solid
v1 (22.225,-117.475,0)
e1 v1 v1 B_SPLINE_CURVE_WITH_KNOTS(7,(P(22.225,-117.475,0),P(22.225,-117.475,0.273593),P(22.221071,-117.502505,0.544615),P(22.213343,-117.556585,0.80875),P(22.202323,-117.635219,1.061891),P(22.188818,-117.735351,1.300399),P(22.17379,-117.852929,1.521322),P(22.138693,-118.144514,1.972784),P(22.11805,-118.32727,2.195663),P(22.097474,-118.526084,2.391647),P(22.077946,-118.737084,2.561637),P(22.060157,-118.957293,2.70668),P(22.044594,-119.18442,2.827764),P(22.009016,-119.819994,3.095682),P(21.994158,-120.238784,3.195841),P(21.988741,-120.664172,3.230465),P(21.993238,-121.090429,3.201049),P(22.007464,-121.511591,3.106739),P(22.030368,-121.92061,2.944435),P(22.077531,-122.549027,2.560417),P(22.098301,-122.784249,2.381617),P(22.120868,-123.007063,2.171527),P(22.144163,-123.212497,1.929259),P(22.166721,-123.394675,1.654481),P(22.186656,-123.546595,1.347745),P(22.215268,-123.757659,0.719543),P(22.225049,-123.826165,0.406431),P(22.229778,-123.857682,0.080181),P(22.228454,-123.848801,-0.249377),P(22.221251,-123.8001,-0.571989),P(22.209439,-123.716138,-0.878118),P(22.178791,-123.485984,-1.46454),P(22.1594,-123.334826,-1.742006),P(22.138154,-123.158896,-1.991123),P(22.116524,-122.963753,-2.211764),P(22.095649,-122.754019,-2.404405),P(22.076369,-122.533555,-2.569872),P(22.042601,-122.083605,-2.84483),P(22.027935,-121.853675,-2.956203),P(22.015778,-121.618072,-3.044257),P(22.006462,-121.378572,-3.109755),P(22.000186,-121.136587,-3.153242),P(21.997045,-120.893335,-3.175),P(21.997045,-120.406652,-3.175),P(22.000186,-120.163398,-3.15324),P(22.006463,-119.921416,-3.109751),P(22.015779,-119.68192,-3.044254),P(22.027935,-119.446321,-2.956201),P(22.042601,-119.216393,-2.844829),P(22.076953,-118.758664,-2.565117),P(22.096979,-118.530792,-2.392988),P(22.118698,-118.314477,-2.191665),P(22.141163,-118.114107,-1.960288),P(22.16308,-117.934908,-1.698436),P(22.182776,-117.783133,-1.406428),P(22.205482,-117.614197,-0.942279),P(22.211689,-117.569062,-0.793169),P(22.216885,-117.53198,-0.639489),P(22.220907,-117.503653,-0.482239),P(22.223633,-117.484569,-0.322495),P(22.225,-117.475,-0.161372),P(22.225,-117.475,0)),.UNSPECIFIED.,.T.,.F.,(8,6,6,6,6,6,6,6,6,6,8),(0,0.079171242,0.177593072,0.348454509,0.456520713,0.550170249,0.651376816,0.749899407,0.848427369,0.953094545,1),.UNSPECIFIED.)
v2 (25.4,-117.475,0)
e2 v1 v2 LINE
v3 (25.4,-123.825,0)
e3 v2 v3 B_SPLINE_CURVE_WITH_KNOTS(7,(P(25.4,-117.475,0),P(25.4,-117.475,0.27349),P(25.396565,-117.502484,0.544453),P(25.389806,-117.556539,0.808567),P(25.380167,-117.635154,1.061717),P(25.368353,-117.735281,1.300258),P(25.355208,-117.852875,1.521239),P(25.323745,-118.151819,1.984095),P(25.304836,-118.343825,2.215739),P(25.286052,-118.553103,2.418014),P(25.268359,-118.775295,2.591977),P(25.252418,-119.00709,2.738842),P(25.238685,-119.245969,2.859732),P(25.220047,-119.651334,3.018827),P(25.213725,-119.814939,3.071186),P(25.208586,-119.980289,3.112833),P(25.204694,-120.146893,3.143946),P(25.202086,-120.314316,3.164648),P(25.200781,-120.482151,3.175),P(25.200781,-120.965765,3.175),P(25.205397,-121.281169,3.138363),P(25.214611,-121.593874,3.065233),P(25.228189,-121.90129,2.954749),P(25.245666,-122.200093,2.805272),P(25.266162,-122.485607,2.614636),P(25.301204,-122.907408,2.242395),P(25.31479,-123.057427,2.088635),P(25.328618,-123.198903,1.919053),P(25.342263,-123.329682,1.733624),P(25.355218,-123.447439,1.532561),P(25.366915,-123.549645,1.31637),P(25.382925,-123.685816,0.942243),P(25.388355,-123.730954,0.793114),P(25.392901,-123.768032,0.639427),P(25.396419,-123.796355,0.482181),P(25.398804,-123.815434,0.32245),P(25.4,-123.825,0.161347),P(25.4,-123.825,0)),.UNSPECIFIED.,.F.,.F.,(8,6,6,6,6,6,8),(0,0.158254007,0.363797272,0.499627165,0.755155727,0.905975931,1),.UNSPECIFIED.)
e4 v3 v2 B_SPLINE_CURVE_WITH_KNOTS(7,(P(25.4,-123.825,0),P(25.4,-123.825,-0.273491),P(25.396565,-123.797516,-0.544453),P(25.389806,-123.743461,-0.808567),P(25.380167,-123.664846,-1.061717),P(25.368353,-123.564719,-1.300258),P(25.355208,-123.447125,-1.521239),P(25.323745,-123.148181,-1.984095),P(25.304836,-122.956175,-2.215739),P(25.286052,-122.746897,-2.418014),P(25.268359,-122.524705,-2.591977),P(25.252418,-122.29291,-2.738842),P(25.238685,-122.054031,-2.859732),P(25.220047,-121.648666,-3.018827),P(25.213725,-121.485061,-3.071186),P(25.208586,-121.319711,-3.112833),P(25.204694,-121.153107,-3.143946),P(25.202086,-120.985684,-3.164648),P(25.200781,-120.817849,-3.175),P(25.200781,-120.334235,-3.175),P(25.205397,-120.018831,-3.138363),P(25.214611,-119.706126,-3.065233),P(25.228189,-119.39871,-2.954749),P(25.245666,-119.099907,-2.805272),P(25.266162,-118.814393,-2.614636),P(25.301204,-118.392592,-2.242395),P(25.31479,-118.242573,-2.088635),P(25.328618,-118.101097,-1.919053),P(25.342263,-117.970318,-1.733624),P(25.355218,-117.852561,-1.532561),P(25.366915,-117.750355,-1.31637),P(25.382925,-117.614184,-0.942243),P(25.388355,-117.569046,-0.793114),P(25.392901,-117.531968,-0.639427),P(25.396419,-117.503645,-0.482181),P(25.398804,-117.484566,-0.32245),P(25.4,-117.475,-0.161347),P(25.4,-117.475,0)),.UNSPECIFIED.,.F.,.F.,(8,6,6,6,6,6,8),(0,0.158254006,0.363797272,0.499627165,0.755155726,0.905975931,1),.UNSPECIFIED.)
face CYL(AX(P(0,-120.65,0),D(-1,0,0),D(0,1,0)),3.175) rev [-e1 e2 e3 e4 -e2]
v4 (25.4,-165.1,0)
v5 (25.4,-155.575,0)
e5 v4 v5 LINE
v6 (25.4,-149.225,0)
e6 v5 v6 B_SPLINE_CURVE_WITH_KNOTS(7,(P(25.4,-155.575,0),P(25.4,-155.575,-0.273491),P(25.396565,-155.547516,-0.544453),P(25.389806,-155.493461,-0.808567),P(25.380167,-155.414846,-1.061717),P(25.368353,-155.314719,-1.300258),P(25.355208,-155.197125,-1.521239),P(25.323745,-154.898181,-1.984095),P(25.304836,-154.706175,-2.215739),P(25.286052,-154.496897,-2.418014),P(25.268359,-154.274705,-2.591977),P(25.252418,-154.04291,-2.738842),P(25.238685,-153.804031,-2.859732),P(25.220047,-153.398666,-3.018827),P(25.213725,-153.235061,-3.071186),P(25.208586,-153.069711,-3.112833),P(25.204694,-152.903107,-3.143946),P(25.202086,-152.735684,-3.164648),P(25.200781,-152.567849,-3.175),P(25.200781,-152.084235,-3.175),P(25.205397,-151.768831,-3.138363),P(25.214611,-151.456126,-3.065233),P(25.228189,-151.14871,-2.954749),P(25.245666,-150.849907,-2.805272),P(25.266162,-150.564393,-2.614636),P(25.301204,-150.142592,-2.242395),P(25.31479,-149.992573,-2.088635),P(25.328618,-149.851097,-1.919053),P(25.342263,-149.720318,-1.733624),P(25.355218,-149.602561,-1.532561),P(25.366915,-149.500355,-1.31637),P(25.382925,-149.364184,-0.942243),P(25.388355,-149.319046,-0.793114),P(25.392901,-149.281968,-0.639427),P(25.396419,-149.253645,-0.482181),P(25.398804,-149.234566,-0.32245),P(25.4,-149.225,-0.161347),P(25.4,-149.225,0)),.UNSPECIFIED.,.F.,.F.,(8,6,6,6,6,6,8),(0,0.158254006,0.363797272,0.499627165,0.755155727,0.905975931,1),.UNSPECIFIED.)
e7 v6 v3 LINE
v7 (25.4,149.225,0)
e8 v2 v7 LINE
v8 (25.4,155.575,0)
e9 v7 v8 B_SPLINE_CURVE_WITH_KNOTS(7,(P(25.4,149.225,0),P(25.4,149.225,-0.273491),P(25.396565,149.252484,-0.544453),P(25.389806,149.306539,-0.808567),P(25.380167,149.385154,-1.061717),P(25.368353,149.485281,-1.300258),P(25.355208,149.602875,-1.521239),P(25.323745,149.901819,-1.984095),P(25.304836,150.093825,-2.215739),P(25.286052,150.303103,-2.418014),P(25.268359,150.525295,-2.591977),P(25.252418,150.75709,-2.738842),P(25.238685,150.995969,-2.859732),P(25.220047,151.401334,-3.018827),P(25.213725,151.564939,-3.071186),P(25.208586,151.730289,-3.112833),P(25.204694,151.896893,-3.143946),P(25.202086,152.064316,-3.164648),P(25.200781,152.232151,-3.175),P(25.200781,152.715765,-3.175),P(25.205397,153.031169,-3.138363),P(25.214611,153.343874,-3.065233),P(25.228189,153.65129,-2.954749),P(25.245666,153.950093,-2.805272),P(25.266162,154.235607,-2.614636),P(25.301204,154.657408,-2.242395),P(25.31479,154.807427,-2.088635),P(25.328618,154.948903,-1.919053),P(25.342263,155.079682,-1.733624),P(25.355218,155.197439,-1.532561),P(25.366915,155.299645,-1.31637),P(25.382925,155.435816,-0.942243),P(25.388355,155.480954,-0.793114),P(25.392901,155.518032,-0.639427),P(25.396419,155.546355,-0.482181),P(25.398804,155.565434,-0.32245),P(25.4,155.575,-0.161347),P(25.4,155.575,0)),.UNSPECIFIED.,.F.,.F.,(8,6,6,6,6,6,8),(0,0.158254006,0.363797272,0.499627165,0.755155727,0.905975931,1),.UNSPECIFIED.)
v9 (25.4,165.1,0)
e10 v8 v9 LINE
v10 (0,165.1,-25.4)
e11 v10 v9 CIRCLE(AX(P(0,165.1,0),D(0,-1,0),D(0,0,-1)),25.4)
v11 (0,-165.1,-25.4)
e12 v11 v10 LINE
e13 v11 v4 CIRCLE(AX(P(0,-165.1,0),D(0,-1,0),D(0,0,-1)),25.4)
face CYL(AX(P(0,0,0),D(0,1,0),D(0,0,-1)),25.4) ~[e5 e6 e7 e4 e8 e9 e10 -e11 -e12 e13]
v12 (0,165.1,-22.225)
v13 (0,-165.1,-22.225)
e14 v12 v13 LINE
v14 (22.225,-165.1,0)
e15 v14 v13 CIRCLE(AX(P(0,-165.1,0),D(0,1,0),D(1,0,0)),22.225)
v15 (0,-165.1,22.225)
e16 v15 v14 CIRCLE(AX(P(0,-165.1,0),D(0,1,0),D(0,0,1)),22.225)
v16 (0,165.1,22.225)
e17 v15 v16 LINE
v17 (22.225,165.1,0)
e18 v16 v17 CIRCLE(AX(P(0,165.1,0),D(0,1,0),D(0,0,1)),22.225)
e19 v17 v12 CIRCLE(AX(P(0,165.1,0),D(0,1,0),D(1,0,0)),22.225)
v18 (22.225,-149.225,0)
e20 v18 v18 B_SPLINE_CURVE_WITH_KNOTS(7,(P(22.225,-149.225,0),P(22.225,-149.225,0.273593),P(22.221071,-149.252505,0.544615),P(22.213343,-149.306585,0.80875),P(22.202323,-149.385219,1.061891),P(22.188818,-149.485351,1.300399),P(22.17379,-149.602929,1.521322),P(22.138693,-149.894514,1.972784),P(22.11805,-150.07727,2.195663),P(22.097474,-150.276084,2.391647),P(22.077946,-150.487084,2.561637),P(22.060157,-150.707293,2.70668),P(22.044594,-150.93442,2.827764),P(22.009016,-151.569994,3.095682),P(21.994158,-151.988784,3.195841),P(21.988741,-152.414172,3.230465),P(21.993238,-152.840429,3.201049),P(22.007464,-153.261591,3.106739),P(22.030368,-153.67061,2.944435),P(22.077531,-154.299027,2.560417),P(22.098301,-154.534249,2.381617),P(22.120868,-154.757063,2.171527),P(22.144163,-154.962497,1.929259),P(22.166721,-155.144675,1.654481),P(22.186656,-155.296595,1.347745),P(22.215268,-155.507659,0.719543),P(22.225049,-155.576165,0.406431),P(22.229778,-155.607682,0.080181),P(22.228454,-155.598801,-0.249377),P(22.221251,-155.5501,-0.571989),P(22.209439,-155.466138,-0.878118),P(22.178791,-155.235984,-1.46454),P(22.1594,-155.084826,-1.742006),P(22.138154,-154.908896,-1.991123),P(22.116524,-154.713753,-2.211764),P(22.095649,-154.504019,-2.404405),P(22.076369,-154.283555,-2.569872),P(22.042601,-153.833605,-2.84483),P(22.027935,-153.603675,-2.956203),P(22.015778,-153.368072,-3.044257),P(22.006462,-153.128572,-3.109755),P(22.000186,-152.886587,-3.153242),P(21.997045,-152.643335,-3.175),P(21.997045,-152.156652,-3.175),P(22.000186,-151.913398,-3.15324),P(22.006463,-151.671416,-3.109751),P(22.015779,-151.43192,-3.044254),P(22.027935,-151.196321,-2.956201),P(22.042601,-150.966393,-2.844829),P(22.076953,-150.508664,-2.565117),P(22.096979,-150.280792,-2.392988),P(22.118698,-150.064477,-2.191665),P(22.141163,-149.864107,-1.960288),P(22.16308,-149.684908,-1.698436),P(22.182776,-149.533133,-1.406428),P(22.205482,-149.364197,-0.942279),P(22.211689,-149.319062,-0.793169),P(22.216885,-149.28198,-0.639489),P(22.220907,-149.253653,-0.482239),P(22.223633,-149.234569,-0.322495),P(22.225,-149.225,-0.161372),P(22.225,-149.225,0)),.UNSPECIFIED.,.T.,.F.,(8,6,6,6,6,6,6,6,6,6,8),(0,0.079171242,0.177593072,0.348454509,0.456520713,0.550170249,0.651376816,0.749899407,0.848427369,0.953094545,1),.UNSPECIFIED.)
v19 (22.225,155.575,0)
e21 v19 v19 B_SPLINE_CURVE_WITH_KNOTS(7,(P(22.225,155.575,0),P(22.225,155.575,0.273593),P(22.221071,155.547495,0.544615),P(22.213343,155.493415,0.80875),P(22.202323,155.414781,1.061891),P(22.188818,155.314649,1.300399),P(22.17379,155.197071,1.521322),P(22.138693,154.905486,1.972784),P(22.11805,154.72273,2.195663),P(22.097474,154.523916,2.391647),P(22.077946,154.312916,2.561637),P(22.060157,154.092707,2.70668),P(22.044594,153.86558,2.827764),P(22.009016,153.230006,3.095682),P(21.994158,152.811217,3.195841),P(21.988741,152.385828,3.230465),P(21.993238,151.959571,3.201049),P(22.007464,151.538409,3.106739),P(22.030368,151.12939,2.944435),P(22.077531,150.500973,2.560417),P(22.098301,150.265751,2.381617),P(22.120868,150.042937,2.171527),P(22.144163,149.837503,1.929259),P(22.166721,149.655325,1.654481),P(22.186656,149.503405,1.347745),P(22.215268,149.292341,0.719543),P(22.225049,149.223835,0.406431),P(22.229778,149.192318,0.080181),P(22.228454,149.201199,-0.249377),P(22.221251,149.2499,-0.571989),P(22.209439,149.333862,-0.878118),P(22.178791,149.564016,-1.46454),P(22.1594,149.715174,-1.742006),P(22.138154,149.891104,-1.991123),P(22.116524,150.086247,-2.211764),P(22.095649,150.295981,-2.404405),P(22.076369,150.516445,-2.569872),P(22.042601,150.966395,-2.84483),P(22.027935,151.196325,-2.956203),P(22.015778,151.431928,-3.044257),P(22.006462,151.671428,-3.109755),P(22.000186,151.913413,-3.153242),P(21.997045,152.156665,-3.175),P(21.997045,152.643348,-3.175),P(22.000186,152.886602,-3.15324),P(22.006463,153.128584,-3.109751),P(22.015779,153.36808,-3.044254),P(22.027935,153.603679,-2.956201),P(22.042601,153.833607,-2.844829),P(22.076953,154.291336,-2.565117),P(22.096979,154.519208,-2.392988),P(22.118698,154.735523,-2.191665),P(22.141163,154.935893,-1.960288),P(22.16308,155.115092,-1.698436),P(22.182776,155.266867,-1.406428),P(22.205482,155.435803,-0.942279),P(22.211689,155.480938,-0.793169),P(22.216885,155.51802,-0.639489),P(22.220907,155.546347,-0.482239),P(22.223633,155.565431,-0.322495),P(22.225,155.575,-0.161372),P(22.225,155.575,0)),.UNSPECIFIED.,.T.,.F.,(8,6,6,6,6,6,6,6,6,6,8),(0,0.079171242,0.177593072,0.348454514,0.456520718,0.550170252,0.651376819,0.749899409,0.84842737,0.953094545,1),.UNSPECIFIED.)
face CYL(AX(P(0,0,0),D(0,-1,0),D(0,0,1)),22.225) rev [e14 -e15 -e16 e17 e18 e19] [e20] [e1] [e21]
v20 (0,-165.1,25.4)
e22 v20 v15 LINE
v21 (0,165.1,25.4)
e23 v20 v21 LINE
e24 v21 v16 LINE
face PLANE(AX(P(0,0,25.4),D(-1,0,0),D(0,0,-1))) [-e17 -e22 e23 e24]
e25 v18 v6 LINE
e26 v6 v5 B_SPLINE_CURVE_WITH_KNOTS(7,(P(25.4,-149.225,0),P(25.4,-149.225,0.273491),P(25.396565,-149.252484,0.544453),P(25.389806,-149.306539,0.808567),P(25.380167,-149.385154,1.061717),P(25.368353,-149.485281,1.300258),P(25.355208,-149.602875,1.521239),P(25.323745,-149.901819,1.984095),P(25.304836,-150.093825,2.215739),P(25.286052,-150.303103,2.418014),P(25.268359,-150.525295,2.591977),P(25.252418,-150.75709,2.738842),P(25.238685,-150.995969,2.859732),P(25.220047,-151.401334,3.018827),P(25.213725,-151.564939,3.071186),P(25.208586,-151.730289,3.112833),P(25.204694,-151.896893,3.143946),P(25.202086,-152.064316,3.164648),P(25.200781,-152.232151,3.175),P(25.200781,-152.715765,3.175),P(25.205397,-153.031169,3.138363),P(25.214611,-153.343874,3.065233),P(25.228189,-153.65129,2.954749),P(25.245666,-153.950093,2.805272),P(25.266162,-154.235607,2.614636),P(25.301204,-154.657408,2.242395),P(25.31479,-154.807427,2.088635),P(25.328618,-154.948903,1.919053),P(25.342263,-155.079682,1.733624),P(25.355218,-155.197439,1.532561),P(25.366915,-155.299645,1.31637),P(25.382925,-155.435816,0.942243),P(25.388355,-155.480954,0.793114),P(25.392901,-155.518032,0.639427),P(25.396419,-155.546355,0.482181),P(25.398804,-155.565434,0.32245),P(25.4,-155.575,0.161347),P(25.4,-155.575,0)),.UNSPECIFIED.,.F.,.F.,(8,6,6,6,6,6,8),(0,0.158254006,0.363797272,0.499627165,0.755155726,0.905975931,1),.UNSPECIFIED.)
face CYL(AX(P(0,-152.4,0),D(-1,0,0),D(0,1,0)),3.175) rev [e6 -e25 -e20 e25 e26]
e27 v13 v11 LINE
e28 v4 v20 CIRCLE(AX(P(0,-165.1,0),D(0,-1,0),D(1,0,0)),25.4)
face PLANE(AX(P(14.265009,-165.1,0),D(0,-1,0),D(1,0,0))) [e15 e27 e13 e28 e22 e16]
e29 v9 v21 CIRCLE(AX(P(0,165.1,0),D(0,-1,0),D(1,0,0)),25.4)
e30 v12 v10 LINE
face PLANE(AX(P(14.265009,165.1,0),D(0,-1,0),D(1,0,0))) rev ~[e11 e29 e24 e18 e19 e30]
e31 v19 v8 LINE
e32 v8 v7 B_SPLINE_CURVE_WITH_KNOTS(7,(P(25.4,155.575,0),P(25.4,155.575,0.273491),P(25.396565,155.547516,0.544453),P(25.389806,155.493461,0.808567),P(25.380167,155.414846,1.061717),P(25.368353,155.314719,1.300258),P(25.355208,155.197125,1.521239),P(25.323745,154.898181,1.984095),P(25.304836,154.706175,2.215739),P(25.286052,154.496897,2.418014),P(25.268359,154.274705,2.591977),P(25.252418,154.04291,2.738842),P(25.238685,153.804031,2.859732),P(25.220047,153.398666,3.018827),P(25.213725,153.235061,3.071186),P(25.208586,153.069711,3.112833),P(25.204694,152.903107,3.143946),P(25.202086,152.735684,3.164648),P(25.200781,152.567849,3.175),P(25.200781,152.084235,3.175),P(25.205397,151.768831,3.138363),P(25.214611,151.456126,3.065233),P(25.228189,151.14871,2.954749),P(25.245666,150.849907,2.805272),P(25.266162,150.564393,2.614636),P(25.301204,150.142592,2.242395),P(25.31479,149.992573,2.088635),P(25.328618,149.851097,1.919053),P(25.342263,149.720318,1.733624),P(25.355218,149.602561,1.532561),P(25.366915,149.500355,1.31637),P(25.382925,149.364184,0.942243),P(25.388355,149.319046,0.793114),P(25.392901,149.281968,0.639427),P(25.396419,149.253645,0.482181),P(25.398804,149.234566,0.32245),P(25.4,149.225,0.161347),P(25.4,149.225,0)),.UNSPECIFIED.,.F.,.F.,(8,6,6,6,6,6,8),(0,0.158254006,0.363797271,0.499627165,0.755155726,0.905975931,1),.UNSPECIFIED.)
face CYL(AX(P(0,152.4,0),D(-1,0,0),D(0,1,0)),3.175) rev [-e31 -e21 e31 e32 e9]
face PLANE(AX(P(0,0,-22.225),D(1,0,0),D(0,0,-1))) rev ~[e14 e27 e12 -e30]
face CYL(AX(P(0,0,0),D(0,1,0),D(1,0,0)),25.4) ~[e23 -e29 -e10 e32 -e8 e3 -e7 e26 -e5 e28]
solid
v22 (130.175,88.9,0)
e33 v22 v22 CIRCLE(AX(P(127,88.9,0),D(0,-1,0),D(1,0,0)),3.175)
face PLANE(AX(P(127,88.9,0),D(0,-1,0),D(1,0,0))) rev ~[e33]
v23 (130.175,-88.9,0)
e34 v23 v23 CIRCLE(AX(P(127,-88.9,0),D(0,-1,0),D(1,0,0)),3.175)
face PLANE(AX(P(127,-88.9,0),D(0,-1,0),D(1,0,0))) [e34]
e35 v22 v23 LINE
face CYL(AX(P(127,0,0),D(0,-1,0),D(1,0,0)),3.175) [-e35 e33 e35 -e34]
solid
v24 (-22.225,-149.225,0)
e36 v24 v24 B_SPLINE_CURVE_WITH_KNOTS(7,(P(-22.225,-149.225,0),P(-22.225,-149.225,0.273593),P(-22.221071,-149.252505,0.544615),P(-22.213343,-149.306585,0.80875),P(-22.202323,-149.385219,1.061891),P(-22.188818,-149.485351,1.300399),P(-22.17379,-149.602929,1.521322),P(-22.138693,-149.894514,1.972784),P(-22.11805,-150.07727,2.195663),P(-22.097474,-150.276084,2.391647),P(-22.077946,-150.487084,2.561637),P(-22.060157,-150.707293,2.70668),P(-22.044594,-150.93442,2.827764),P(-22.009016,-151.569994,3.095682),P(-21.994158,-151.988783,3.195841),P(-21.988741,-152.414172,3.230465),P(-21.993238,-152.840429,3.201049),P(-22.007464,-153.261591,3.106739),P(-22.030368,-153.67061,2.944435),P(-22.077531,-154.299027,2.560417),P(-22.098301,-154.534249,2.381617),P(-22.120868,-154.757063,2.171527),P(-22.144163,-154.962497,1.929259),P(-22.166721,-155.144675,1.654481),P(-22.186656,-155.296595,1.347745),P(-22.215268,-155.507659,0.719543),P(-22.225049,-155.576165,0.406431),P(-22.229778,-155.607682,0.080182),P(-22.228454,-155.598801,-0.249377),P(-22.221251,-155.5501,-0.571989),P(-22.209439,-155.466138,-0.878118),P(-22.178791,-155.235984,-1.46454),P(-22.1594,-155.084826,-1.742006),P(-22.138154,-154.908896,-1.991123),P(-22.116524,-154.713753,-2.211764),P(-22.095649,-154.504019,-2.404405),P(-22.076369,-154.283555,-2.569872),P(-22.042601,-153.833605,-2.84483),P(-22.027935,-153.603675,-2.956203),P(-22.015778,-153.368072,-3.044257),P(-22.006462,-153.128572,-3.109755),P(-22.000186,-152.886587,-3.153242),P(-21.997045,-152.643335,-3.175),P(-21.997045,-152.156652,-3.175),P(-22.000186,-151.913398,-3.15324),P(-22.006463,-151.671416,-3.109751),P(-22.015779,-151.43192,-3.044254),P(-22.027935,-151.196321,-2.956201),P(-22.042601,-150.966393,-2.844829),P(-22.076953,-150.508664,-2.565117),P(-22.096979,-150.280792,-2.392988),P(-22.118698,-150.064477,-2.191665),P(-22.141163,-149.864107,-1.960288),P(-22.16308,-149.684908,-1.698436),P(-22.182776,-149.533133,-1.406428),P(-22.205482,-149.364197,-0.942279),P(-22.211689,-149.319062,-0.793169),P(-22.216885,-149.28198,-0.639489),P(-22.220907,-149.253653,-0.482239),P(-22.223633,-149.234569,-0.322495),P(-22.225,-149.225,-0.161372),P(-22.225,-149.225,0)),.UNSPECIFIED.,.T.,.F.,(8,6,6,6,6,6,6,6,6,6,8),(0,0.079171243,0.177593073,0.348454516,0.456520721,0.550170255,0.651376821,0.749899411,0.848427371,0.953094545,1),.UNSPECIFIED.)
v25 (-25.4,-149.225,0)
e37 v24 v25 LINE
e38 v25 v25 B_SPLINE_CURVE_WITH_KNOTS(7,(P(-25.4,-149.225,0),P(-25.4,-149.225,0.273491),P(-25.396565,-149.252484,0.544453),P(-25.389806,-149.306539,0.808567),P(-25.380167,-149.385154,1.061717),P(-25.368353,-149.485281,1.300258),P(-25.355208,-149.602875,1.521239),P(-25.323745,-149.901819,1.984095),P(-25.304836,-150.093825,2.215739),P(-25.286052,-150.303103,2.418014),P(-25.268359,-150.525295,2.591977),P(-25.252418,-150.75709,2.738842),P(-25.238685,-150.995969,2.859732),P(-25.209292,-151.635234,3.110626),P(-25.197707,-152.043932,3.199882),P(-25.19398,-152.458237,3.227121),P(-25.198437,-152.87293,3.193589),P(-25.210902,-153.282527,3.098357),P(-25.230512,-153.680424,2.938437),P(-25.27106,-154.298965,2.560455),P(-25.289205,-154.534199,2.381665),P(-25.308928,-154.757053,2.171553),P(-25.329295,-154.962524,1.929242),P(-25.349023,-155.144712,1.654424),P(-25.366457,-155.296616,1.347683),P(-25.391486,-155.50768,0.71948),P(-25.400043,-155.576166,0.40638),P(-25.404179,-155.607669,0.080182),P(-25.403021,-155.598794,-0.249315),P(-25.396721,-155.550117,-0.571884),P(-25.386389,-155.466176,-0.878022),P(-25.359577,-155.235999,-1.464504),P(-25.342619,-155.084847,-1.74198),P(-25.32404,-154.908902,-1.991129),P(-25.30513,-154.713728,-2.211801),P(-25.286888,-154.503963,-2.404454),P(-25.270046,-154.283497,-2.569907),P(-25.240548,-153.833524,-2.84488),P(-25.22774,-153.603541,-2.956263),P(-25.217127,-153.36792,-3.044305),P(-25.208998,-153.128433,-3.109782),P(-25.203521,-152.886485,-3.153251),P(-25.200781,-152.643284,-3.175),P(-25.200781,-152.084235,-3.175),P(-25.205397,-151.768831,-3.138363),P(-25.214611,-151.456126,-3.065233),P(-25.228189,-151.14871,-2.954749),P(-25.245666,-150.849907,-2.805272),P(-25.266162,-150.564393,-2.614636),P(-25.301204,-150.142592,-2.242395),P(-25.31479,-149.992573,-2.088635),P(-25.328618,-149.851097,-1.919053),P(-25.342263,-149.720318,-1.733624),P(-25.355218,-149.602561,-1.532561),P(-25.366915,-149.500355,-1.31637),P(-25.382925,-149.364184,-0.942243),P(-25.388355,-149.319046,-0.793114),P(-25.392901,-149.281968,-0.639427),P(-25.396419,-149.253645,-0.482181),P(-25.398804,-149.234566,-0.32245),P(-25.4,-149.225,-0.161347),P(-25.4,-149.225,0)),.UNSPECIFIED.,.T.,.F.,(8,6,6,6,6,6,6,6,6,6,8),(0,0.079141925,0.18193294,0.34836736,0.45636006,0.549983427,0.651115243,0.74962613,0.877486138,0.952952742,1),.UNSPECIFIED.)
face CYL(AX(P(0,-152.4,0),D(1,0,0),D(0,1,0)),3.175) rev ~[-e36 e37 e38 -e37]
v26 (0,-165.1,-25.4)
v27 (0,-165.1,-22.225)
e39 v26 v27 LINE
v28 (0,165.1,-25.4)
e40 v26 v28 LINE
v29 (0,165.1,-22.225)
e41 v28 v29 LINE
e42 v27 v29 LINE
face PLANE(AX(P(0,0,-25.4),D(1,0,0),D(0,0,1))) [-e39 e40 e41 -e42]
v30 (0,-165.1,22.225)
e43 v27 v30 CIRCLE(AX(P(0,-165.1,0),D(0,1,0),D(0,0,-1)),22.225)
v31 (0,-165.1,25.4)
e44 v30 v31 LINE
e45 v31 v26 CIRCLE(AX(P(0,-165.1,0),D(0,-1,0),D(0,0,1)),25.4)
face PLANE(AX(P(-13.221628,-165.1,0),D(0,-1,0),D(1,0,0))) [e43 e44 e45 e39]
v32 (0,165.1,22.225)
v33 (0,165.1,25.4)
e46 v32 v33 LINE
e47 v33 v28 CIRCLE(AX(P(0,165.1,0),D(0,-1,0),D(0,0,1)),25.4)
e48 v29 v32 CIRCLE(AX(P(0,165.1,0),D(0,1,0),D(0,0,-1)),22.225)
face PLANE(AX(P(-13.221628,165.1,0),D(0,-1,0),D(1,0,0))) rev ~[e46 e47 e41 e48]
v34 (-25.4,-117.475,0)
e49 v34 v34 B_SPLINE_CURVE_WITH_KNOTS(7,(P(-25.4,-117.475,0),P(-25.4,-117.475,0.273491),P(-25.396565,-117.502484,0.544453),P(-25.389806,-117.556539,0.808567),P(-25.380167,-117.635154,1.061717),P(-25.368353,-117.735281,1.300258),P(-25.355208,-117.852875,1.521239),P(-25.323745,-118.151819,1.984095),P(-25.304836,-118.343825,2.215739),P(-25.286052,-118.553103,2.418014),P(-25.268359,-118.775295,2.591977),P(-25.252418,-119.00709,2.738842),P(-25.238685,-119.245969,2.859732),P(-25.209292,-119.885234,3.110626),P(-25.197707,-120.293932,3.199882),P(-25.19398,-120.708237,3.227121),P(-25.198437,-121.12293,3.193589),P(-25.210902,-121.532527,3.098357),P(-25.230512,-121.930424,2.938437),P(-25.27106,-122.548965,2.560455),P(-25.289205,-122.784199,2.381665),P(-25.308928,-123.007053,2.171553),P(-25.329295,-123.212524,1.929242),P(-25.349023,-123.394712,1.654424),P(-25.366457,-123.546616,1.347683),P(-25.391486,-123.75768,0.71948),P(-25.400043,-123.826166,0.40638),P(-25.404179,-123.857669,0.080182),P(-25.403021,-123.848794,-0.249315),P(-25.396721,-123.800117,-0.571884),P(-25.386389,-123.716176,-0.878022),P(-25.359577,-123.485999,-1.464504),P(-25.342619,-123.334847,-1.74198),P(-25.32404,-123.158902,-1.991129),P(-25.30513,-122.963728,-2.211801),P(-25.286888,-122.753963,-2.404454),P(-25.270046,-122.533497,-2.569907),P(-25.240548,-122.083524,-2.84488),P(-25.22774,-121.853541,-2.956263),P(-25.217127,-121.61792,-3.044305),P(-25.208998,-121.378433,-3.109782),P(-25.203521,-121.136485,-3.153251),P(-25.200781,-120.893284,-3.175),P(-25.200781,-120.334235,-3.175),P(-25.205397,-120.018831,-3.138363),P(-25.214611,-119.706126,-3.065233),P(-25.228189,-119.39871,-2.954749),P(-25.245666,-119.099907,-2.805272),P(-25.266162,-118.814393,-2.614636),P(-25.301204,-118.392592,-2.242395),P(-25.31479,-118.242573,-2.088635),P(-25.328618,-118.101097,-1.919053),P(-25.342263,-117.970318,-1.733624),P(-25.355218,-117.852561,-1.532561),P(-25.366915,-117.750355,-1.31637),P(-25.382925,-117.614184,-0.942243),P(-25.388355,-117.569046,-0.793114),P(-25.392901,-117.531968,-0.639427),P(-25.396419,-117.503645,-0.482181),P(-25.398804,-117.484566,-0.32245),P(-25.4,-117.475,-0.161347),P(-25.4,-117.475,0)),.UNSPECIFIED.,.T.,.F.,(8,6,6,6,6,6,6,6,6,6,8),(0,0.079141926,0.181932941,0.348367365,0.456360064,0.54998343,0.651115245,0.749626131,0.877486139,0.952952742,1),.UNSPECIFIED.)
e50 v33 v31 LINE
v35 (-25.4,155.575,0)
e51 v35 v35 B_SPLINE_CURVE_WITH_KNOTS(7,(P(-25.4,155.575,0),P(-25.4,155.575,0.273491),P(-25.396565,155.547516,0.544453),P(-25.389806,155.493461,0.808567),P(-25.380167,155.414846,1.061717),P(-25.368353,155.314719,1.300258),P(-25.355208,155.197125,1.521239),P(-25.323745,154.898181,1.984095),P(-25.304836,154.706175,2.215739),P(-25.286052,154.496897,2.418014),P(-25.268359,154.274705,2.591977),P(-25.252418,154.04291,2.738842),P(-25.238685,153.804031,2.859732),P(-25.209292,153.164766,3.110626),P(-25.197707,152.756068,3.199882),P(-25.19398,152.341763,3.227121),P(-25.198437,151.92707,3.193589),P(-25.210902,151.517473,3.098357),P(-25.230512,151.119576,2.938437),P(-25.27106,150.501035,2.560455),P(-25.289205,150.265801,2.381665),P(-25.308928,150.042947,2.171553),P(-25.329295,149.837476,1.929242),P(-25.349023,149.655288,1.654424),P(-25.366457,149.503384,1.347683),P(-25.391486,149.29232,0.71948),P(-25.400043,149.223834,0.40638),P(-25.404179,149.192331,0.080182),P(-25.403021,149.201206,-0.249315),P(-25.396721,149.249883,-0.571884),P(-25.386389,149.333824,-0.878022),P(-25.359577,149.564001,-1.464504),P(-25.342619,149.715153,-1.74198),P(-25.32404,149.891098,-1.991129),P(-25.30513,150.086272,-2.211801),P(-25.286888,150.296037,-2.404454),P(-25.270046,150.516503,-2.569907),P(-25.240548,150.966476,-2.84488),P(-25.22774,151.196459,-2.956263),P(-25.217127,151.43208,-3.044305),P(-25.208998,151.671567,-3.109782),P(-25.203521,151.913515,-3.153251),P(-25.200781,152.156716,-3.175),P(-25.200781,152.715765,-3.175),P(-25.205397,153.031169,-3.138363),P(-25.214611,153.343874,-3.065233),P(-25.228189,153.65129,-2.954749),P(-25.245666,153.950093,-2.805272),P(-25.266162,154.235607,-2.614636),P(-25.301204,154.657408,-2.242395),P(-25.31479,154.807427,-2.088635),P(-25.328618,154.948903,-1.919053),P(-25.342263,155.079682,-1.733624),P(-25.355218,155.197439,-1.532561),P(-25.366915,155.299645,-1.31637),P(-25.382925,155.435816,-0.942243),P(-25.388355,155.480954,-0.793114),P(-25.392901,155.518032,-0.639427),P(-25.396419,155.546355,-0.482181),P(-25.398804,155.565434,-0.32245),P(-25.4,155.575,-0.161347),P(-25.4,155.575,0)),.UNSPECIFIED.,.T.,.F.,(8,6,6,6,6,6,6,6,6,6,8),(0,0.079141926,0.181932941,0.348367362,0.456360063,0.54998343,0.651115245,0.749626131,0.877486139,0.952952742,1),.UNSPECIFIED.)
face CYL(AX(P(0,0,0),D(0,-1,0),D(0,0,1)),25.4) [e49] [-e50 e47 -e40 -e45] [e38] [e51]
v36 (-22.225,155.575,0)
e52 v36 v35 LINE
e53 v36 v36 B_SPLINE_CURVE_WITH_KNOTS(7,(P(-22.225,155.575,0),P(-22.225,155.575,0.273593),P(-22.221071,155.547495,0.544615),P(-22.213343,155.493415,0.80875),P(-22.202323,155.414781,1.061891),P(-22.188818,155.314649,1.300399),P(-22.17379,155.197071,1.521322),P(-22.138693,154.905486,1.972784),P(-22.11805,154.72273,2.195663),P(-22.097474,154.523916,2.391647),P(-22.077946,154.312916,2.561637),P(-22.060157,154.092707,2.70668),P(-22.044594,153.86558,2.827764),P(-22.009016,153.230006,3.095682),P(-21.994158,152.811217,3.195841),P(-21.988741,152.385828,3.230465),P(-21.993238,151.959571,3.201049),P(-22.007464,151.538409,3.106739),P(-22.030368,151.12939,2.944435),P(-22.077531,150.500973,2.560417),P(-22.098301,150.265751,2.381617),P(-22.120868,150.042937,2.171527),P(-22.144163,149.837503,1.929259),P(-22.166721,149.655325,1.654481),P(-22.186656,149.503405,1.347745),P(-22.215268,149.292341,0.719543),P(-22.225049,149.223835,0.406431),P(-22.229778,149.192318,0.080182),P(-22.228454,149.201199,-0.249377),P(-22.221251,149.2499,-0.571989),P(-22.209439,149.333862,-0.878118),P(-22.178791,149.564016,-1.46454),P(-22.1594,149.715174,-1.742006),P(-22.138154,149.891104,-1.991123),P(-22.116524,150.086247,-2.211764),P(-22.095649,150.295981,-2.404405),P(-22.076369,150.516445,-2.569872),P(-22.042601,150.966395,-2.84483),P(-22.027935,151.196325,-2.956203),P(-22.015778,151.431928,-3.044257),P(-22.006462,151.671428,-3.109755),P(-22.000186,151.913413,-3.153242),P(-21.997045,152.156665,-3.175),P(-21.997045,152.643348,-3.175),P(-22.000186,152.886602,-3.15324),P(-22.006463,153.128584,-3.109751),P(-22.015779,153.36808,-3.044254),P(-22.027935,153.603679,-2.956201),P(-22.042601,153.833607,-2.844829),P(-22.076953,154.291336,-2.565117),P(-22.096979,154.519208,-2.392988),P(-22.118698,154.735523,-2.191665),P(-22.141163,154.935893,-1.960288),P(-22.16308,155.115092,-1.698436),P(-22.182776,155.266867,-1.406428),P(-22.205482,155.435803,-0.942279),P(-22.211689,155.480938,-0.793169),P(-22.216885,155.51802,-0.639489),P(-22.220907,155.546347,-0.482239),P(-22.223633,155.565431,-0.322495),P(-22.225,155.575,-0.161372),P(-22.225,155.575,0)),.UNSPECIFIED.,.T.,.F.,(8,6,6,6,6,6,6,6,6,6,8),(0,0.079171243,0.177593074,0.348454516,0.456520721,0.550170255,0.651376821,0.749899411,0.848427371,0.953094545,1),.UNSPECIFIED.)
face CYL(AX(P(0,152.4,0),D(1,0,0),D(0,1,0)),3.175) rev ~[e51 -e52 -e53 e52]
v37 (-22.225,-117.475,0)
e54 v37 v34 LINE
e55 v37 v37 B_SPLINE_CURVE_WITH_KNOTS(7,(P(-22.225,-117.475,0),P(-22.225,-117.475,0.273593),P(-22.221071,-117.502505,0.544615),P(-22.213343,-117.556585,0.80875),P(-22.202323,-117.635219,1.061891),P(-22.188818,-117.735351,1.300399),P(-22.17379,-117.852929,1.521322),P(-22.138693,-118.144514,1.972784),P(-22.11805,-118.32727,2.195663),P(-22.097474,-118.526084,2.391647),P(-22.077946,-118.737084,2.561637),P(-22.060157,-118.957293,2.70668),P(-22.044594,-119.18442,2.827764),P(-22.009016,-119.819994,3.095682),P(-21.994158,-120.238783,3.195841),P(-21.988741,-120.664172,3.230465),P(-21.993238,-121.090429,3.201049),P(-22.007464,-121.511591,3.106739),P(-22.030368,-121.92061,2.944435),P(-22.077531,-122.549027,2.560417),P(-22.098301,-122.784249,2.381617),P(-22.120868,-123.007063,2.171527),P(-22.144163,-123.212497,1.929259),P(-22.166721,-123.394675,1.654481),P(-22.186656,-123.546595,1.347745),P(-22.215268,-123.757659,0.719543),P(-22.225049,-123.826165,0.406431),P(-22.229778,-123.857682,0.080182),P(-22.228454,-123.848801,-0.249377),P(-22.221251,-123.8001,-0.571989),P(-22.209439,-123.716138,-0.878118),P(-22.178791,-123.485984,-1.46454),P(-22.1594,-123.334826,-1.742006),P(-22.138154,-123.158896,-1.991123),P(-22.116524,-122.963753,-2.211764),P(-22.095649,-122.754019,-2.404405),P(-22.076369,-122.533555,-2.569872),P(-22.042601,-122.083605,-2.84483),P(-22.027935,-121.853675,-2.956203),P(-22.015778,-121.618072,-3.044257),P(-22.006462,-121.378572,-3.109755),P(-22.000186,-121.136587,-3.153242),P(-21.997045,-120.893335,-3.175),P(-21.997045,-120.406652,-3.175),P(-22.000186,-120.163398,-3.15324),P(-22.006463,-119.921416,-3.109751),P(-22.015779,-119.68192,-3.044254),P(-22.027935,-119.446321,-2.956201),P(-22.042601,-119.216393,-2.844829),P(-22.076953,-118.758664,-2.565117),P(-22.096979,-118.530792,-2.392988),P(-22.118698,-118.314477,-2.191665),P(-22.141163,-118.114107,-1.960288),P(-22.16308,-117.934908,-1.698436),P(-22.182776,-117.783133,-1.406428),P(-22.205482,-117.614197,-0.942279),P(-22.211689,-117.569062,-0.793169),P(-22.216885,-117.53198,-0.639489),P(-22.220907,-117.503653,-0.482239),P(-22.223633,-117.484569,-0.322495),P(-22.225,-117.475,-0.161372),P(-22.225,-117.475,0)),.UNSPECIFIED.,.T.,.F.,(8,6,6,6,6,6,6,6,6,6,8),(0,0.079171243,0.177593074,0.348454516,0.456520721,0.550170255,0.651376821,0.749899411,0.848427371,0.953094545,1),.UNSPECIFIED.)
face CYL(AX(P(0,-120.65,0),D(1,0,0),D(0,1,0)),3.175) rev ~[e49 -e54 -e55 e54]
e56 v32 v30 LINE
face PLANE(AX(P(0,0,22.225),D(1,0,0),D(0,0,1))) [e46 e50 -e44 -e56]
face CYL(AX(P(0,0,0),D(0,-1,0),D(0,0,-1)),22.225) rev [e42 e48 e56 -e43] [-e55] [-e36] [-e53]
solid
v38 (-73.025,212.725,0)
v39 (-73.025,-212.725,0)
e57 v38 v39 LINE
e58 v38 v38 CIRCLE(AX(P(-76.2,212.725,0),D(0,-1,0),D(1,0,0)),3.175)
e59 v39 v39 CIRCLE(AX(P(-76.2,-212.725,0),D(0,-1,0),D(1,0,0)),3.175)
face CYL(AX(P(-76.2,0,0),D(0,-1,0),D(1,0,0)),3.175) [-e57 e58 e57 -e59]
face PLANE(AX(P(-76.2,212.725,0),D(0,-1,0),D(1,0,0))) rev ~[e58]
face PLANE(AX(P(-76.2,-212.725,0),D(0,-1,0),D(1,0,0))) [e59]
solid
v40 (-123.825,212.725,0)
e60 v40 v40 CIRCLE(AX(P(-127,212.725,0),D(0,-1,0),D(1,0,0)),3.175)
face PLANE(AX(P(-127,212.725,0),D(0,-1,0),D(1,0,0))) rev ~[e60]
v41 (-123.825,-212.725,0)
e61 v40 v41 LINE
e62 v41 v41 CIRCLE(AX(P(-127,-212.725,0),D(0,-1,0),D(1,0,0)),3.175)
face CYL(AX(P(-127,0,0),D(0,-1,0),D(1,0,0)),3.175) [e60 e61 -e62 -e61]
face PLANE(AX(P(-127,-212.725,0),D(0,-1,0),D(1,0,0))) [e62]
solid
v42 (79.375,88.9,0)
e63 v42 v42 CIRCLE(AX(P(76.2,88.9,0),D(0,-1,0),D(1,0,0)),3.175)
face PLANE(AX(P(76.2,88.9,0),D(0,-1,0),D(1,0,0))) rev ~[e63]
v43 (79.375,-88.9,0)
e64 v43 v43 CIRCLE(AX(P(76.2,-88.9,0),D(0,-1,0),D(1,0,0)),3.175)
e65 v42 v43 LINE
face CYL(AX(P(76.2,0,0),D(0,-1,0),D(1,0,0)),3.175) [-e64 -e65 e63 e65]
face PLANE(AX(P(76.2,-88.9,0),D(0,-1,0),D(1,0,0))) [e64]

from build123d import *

# Parameters (mm, degrees)
F1_DEPTH      = 165.1
F2_DEPTH      = 165.1
F4_R          = 3.175
F5_DEPTH      = 25.401
F5_DEPTH_BACK = 25.401
F3_R          = 3.175
F6_DEPTH      = 212.725
F7_DEPTH      = 88.9


with BuildPart() as f1:
    # F0 (on Front) → F1 (new body, symmetric)
    with BuildSketch(Plane.XZ):
        with BuildLine():
            ThreePointArc((0, -22.225), (-22.225, 0), (0, 22.225))
            Line((0, 22.225), (0, 25.4))
            ThreePointArc((0, 25.4), (-25.4, 0), (0, -25.4))
            Line((0, -25.4), (0, -22.225))
        make_face()
    extrude(amount=F1_DEPTH, both=True)


with BuildPart() as f2:
    # F0 (on Front) → F2 (new body, symmetric)
    with BuildSketch(Plane.XZ):
        with BuildLine():
            ThreePointArc((0, 22.225), (15.7154482119, 15.7154482119), (22.225, 0))
            ThreePointArc((22.225, 0), (15.7154482119, -15.7154482119), (0, -22.225))
            Line((0, -22.225), (0, -25.4))
            ThreePointArc((0, -25.4), (17.9605122421, -17.9605122421), (25.4, 0))
            ThreePointArc((25.4, 0), (17.9605122421, 17.9605122421), (0, 25.4))
            Line((0, 25.4), (0, 22.225))
        make_face()
    extrude(amount=F2_DEPTH, both=True)


with BuildPart() as f5_tool:
    # F4 (on Right) → F5 (new body, two sides)
    with BuildSketch(Plane.YZ) as f5_sk:
        with Locations((-152.4, 0)):
            Circle(F4_R)
        with Locations((152.4, 0)):
            Circle(F4_R)
        with Locations((-120.65, 0)):
            Circle(F4_R)
    extrude(amount=-F5_DEPTH)
    extrude(f5_sk.sketch, amount=F5_DEPTH_BACK)


with BuildPart() as f1_1:
    add(f1.part)

    # F5: cut by f5_tool
    add(f5_tool.part, mode=Mode.SUBTRACT)


with BuildPart() as f2_1:
    add(f2.part)

    # F5: cut by f5_tool
    add(f5_tool.part, mode=Mode.SUBTRACT)


with BuildPart() as f6:
    # F3 (on Front) → F6 (new body, symmetric)
    with BuildSketch(Plane.XZ):
        with Locations((-127, 0)):
            Circle(F3_R)
    extrude(amount=F6_DEPTH, both=True)


with BuildPart() as f6b:
    # F3 (on Front) → F6, piece 2 (new body, symmetric)
    with BuildSketch(Plane.XZ):
        with Locations((-76.2, 0)):
            Circle(F3_R)
    extrude(amount=F6_DEPTH, both=True)


with BuildPart() as f7:
    # F3 (on Front) → F7 (new body, symmetric)
    with BuildSketch(Plane.XZ):
        with Locations((76.2, 0)):
            Circle(F3_R)
    extrude(amount=F7_DEPTH, both=True)


with BuildPart() as f7b:
    # F3 (on Front) → F7, piece 2 (new body, symmetric)
    with BuildSketch(Plane.XZ):
        with Locations((127, 0)):
            Circle(F3_R)
    extrude(amount=F7_DEPTH, both=True)


solid = Compound([f1_1.part, f2_1.part, f6.part, f6b.part, f7.part, f7b.part])
